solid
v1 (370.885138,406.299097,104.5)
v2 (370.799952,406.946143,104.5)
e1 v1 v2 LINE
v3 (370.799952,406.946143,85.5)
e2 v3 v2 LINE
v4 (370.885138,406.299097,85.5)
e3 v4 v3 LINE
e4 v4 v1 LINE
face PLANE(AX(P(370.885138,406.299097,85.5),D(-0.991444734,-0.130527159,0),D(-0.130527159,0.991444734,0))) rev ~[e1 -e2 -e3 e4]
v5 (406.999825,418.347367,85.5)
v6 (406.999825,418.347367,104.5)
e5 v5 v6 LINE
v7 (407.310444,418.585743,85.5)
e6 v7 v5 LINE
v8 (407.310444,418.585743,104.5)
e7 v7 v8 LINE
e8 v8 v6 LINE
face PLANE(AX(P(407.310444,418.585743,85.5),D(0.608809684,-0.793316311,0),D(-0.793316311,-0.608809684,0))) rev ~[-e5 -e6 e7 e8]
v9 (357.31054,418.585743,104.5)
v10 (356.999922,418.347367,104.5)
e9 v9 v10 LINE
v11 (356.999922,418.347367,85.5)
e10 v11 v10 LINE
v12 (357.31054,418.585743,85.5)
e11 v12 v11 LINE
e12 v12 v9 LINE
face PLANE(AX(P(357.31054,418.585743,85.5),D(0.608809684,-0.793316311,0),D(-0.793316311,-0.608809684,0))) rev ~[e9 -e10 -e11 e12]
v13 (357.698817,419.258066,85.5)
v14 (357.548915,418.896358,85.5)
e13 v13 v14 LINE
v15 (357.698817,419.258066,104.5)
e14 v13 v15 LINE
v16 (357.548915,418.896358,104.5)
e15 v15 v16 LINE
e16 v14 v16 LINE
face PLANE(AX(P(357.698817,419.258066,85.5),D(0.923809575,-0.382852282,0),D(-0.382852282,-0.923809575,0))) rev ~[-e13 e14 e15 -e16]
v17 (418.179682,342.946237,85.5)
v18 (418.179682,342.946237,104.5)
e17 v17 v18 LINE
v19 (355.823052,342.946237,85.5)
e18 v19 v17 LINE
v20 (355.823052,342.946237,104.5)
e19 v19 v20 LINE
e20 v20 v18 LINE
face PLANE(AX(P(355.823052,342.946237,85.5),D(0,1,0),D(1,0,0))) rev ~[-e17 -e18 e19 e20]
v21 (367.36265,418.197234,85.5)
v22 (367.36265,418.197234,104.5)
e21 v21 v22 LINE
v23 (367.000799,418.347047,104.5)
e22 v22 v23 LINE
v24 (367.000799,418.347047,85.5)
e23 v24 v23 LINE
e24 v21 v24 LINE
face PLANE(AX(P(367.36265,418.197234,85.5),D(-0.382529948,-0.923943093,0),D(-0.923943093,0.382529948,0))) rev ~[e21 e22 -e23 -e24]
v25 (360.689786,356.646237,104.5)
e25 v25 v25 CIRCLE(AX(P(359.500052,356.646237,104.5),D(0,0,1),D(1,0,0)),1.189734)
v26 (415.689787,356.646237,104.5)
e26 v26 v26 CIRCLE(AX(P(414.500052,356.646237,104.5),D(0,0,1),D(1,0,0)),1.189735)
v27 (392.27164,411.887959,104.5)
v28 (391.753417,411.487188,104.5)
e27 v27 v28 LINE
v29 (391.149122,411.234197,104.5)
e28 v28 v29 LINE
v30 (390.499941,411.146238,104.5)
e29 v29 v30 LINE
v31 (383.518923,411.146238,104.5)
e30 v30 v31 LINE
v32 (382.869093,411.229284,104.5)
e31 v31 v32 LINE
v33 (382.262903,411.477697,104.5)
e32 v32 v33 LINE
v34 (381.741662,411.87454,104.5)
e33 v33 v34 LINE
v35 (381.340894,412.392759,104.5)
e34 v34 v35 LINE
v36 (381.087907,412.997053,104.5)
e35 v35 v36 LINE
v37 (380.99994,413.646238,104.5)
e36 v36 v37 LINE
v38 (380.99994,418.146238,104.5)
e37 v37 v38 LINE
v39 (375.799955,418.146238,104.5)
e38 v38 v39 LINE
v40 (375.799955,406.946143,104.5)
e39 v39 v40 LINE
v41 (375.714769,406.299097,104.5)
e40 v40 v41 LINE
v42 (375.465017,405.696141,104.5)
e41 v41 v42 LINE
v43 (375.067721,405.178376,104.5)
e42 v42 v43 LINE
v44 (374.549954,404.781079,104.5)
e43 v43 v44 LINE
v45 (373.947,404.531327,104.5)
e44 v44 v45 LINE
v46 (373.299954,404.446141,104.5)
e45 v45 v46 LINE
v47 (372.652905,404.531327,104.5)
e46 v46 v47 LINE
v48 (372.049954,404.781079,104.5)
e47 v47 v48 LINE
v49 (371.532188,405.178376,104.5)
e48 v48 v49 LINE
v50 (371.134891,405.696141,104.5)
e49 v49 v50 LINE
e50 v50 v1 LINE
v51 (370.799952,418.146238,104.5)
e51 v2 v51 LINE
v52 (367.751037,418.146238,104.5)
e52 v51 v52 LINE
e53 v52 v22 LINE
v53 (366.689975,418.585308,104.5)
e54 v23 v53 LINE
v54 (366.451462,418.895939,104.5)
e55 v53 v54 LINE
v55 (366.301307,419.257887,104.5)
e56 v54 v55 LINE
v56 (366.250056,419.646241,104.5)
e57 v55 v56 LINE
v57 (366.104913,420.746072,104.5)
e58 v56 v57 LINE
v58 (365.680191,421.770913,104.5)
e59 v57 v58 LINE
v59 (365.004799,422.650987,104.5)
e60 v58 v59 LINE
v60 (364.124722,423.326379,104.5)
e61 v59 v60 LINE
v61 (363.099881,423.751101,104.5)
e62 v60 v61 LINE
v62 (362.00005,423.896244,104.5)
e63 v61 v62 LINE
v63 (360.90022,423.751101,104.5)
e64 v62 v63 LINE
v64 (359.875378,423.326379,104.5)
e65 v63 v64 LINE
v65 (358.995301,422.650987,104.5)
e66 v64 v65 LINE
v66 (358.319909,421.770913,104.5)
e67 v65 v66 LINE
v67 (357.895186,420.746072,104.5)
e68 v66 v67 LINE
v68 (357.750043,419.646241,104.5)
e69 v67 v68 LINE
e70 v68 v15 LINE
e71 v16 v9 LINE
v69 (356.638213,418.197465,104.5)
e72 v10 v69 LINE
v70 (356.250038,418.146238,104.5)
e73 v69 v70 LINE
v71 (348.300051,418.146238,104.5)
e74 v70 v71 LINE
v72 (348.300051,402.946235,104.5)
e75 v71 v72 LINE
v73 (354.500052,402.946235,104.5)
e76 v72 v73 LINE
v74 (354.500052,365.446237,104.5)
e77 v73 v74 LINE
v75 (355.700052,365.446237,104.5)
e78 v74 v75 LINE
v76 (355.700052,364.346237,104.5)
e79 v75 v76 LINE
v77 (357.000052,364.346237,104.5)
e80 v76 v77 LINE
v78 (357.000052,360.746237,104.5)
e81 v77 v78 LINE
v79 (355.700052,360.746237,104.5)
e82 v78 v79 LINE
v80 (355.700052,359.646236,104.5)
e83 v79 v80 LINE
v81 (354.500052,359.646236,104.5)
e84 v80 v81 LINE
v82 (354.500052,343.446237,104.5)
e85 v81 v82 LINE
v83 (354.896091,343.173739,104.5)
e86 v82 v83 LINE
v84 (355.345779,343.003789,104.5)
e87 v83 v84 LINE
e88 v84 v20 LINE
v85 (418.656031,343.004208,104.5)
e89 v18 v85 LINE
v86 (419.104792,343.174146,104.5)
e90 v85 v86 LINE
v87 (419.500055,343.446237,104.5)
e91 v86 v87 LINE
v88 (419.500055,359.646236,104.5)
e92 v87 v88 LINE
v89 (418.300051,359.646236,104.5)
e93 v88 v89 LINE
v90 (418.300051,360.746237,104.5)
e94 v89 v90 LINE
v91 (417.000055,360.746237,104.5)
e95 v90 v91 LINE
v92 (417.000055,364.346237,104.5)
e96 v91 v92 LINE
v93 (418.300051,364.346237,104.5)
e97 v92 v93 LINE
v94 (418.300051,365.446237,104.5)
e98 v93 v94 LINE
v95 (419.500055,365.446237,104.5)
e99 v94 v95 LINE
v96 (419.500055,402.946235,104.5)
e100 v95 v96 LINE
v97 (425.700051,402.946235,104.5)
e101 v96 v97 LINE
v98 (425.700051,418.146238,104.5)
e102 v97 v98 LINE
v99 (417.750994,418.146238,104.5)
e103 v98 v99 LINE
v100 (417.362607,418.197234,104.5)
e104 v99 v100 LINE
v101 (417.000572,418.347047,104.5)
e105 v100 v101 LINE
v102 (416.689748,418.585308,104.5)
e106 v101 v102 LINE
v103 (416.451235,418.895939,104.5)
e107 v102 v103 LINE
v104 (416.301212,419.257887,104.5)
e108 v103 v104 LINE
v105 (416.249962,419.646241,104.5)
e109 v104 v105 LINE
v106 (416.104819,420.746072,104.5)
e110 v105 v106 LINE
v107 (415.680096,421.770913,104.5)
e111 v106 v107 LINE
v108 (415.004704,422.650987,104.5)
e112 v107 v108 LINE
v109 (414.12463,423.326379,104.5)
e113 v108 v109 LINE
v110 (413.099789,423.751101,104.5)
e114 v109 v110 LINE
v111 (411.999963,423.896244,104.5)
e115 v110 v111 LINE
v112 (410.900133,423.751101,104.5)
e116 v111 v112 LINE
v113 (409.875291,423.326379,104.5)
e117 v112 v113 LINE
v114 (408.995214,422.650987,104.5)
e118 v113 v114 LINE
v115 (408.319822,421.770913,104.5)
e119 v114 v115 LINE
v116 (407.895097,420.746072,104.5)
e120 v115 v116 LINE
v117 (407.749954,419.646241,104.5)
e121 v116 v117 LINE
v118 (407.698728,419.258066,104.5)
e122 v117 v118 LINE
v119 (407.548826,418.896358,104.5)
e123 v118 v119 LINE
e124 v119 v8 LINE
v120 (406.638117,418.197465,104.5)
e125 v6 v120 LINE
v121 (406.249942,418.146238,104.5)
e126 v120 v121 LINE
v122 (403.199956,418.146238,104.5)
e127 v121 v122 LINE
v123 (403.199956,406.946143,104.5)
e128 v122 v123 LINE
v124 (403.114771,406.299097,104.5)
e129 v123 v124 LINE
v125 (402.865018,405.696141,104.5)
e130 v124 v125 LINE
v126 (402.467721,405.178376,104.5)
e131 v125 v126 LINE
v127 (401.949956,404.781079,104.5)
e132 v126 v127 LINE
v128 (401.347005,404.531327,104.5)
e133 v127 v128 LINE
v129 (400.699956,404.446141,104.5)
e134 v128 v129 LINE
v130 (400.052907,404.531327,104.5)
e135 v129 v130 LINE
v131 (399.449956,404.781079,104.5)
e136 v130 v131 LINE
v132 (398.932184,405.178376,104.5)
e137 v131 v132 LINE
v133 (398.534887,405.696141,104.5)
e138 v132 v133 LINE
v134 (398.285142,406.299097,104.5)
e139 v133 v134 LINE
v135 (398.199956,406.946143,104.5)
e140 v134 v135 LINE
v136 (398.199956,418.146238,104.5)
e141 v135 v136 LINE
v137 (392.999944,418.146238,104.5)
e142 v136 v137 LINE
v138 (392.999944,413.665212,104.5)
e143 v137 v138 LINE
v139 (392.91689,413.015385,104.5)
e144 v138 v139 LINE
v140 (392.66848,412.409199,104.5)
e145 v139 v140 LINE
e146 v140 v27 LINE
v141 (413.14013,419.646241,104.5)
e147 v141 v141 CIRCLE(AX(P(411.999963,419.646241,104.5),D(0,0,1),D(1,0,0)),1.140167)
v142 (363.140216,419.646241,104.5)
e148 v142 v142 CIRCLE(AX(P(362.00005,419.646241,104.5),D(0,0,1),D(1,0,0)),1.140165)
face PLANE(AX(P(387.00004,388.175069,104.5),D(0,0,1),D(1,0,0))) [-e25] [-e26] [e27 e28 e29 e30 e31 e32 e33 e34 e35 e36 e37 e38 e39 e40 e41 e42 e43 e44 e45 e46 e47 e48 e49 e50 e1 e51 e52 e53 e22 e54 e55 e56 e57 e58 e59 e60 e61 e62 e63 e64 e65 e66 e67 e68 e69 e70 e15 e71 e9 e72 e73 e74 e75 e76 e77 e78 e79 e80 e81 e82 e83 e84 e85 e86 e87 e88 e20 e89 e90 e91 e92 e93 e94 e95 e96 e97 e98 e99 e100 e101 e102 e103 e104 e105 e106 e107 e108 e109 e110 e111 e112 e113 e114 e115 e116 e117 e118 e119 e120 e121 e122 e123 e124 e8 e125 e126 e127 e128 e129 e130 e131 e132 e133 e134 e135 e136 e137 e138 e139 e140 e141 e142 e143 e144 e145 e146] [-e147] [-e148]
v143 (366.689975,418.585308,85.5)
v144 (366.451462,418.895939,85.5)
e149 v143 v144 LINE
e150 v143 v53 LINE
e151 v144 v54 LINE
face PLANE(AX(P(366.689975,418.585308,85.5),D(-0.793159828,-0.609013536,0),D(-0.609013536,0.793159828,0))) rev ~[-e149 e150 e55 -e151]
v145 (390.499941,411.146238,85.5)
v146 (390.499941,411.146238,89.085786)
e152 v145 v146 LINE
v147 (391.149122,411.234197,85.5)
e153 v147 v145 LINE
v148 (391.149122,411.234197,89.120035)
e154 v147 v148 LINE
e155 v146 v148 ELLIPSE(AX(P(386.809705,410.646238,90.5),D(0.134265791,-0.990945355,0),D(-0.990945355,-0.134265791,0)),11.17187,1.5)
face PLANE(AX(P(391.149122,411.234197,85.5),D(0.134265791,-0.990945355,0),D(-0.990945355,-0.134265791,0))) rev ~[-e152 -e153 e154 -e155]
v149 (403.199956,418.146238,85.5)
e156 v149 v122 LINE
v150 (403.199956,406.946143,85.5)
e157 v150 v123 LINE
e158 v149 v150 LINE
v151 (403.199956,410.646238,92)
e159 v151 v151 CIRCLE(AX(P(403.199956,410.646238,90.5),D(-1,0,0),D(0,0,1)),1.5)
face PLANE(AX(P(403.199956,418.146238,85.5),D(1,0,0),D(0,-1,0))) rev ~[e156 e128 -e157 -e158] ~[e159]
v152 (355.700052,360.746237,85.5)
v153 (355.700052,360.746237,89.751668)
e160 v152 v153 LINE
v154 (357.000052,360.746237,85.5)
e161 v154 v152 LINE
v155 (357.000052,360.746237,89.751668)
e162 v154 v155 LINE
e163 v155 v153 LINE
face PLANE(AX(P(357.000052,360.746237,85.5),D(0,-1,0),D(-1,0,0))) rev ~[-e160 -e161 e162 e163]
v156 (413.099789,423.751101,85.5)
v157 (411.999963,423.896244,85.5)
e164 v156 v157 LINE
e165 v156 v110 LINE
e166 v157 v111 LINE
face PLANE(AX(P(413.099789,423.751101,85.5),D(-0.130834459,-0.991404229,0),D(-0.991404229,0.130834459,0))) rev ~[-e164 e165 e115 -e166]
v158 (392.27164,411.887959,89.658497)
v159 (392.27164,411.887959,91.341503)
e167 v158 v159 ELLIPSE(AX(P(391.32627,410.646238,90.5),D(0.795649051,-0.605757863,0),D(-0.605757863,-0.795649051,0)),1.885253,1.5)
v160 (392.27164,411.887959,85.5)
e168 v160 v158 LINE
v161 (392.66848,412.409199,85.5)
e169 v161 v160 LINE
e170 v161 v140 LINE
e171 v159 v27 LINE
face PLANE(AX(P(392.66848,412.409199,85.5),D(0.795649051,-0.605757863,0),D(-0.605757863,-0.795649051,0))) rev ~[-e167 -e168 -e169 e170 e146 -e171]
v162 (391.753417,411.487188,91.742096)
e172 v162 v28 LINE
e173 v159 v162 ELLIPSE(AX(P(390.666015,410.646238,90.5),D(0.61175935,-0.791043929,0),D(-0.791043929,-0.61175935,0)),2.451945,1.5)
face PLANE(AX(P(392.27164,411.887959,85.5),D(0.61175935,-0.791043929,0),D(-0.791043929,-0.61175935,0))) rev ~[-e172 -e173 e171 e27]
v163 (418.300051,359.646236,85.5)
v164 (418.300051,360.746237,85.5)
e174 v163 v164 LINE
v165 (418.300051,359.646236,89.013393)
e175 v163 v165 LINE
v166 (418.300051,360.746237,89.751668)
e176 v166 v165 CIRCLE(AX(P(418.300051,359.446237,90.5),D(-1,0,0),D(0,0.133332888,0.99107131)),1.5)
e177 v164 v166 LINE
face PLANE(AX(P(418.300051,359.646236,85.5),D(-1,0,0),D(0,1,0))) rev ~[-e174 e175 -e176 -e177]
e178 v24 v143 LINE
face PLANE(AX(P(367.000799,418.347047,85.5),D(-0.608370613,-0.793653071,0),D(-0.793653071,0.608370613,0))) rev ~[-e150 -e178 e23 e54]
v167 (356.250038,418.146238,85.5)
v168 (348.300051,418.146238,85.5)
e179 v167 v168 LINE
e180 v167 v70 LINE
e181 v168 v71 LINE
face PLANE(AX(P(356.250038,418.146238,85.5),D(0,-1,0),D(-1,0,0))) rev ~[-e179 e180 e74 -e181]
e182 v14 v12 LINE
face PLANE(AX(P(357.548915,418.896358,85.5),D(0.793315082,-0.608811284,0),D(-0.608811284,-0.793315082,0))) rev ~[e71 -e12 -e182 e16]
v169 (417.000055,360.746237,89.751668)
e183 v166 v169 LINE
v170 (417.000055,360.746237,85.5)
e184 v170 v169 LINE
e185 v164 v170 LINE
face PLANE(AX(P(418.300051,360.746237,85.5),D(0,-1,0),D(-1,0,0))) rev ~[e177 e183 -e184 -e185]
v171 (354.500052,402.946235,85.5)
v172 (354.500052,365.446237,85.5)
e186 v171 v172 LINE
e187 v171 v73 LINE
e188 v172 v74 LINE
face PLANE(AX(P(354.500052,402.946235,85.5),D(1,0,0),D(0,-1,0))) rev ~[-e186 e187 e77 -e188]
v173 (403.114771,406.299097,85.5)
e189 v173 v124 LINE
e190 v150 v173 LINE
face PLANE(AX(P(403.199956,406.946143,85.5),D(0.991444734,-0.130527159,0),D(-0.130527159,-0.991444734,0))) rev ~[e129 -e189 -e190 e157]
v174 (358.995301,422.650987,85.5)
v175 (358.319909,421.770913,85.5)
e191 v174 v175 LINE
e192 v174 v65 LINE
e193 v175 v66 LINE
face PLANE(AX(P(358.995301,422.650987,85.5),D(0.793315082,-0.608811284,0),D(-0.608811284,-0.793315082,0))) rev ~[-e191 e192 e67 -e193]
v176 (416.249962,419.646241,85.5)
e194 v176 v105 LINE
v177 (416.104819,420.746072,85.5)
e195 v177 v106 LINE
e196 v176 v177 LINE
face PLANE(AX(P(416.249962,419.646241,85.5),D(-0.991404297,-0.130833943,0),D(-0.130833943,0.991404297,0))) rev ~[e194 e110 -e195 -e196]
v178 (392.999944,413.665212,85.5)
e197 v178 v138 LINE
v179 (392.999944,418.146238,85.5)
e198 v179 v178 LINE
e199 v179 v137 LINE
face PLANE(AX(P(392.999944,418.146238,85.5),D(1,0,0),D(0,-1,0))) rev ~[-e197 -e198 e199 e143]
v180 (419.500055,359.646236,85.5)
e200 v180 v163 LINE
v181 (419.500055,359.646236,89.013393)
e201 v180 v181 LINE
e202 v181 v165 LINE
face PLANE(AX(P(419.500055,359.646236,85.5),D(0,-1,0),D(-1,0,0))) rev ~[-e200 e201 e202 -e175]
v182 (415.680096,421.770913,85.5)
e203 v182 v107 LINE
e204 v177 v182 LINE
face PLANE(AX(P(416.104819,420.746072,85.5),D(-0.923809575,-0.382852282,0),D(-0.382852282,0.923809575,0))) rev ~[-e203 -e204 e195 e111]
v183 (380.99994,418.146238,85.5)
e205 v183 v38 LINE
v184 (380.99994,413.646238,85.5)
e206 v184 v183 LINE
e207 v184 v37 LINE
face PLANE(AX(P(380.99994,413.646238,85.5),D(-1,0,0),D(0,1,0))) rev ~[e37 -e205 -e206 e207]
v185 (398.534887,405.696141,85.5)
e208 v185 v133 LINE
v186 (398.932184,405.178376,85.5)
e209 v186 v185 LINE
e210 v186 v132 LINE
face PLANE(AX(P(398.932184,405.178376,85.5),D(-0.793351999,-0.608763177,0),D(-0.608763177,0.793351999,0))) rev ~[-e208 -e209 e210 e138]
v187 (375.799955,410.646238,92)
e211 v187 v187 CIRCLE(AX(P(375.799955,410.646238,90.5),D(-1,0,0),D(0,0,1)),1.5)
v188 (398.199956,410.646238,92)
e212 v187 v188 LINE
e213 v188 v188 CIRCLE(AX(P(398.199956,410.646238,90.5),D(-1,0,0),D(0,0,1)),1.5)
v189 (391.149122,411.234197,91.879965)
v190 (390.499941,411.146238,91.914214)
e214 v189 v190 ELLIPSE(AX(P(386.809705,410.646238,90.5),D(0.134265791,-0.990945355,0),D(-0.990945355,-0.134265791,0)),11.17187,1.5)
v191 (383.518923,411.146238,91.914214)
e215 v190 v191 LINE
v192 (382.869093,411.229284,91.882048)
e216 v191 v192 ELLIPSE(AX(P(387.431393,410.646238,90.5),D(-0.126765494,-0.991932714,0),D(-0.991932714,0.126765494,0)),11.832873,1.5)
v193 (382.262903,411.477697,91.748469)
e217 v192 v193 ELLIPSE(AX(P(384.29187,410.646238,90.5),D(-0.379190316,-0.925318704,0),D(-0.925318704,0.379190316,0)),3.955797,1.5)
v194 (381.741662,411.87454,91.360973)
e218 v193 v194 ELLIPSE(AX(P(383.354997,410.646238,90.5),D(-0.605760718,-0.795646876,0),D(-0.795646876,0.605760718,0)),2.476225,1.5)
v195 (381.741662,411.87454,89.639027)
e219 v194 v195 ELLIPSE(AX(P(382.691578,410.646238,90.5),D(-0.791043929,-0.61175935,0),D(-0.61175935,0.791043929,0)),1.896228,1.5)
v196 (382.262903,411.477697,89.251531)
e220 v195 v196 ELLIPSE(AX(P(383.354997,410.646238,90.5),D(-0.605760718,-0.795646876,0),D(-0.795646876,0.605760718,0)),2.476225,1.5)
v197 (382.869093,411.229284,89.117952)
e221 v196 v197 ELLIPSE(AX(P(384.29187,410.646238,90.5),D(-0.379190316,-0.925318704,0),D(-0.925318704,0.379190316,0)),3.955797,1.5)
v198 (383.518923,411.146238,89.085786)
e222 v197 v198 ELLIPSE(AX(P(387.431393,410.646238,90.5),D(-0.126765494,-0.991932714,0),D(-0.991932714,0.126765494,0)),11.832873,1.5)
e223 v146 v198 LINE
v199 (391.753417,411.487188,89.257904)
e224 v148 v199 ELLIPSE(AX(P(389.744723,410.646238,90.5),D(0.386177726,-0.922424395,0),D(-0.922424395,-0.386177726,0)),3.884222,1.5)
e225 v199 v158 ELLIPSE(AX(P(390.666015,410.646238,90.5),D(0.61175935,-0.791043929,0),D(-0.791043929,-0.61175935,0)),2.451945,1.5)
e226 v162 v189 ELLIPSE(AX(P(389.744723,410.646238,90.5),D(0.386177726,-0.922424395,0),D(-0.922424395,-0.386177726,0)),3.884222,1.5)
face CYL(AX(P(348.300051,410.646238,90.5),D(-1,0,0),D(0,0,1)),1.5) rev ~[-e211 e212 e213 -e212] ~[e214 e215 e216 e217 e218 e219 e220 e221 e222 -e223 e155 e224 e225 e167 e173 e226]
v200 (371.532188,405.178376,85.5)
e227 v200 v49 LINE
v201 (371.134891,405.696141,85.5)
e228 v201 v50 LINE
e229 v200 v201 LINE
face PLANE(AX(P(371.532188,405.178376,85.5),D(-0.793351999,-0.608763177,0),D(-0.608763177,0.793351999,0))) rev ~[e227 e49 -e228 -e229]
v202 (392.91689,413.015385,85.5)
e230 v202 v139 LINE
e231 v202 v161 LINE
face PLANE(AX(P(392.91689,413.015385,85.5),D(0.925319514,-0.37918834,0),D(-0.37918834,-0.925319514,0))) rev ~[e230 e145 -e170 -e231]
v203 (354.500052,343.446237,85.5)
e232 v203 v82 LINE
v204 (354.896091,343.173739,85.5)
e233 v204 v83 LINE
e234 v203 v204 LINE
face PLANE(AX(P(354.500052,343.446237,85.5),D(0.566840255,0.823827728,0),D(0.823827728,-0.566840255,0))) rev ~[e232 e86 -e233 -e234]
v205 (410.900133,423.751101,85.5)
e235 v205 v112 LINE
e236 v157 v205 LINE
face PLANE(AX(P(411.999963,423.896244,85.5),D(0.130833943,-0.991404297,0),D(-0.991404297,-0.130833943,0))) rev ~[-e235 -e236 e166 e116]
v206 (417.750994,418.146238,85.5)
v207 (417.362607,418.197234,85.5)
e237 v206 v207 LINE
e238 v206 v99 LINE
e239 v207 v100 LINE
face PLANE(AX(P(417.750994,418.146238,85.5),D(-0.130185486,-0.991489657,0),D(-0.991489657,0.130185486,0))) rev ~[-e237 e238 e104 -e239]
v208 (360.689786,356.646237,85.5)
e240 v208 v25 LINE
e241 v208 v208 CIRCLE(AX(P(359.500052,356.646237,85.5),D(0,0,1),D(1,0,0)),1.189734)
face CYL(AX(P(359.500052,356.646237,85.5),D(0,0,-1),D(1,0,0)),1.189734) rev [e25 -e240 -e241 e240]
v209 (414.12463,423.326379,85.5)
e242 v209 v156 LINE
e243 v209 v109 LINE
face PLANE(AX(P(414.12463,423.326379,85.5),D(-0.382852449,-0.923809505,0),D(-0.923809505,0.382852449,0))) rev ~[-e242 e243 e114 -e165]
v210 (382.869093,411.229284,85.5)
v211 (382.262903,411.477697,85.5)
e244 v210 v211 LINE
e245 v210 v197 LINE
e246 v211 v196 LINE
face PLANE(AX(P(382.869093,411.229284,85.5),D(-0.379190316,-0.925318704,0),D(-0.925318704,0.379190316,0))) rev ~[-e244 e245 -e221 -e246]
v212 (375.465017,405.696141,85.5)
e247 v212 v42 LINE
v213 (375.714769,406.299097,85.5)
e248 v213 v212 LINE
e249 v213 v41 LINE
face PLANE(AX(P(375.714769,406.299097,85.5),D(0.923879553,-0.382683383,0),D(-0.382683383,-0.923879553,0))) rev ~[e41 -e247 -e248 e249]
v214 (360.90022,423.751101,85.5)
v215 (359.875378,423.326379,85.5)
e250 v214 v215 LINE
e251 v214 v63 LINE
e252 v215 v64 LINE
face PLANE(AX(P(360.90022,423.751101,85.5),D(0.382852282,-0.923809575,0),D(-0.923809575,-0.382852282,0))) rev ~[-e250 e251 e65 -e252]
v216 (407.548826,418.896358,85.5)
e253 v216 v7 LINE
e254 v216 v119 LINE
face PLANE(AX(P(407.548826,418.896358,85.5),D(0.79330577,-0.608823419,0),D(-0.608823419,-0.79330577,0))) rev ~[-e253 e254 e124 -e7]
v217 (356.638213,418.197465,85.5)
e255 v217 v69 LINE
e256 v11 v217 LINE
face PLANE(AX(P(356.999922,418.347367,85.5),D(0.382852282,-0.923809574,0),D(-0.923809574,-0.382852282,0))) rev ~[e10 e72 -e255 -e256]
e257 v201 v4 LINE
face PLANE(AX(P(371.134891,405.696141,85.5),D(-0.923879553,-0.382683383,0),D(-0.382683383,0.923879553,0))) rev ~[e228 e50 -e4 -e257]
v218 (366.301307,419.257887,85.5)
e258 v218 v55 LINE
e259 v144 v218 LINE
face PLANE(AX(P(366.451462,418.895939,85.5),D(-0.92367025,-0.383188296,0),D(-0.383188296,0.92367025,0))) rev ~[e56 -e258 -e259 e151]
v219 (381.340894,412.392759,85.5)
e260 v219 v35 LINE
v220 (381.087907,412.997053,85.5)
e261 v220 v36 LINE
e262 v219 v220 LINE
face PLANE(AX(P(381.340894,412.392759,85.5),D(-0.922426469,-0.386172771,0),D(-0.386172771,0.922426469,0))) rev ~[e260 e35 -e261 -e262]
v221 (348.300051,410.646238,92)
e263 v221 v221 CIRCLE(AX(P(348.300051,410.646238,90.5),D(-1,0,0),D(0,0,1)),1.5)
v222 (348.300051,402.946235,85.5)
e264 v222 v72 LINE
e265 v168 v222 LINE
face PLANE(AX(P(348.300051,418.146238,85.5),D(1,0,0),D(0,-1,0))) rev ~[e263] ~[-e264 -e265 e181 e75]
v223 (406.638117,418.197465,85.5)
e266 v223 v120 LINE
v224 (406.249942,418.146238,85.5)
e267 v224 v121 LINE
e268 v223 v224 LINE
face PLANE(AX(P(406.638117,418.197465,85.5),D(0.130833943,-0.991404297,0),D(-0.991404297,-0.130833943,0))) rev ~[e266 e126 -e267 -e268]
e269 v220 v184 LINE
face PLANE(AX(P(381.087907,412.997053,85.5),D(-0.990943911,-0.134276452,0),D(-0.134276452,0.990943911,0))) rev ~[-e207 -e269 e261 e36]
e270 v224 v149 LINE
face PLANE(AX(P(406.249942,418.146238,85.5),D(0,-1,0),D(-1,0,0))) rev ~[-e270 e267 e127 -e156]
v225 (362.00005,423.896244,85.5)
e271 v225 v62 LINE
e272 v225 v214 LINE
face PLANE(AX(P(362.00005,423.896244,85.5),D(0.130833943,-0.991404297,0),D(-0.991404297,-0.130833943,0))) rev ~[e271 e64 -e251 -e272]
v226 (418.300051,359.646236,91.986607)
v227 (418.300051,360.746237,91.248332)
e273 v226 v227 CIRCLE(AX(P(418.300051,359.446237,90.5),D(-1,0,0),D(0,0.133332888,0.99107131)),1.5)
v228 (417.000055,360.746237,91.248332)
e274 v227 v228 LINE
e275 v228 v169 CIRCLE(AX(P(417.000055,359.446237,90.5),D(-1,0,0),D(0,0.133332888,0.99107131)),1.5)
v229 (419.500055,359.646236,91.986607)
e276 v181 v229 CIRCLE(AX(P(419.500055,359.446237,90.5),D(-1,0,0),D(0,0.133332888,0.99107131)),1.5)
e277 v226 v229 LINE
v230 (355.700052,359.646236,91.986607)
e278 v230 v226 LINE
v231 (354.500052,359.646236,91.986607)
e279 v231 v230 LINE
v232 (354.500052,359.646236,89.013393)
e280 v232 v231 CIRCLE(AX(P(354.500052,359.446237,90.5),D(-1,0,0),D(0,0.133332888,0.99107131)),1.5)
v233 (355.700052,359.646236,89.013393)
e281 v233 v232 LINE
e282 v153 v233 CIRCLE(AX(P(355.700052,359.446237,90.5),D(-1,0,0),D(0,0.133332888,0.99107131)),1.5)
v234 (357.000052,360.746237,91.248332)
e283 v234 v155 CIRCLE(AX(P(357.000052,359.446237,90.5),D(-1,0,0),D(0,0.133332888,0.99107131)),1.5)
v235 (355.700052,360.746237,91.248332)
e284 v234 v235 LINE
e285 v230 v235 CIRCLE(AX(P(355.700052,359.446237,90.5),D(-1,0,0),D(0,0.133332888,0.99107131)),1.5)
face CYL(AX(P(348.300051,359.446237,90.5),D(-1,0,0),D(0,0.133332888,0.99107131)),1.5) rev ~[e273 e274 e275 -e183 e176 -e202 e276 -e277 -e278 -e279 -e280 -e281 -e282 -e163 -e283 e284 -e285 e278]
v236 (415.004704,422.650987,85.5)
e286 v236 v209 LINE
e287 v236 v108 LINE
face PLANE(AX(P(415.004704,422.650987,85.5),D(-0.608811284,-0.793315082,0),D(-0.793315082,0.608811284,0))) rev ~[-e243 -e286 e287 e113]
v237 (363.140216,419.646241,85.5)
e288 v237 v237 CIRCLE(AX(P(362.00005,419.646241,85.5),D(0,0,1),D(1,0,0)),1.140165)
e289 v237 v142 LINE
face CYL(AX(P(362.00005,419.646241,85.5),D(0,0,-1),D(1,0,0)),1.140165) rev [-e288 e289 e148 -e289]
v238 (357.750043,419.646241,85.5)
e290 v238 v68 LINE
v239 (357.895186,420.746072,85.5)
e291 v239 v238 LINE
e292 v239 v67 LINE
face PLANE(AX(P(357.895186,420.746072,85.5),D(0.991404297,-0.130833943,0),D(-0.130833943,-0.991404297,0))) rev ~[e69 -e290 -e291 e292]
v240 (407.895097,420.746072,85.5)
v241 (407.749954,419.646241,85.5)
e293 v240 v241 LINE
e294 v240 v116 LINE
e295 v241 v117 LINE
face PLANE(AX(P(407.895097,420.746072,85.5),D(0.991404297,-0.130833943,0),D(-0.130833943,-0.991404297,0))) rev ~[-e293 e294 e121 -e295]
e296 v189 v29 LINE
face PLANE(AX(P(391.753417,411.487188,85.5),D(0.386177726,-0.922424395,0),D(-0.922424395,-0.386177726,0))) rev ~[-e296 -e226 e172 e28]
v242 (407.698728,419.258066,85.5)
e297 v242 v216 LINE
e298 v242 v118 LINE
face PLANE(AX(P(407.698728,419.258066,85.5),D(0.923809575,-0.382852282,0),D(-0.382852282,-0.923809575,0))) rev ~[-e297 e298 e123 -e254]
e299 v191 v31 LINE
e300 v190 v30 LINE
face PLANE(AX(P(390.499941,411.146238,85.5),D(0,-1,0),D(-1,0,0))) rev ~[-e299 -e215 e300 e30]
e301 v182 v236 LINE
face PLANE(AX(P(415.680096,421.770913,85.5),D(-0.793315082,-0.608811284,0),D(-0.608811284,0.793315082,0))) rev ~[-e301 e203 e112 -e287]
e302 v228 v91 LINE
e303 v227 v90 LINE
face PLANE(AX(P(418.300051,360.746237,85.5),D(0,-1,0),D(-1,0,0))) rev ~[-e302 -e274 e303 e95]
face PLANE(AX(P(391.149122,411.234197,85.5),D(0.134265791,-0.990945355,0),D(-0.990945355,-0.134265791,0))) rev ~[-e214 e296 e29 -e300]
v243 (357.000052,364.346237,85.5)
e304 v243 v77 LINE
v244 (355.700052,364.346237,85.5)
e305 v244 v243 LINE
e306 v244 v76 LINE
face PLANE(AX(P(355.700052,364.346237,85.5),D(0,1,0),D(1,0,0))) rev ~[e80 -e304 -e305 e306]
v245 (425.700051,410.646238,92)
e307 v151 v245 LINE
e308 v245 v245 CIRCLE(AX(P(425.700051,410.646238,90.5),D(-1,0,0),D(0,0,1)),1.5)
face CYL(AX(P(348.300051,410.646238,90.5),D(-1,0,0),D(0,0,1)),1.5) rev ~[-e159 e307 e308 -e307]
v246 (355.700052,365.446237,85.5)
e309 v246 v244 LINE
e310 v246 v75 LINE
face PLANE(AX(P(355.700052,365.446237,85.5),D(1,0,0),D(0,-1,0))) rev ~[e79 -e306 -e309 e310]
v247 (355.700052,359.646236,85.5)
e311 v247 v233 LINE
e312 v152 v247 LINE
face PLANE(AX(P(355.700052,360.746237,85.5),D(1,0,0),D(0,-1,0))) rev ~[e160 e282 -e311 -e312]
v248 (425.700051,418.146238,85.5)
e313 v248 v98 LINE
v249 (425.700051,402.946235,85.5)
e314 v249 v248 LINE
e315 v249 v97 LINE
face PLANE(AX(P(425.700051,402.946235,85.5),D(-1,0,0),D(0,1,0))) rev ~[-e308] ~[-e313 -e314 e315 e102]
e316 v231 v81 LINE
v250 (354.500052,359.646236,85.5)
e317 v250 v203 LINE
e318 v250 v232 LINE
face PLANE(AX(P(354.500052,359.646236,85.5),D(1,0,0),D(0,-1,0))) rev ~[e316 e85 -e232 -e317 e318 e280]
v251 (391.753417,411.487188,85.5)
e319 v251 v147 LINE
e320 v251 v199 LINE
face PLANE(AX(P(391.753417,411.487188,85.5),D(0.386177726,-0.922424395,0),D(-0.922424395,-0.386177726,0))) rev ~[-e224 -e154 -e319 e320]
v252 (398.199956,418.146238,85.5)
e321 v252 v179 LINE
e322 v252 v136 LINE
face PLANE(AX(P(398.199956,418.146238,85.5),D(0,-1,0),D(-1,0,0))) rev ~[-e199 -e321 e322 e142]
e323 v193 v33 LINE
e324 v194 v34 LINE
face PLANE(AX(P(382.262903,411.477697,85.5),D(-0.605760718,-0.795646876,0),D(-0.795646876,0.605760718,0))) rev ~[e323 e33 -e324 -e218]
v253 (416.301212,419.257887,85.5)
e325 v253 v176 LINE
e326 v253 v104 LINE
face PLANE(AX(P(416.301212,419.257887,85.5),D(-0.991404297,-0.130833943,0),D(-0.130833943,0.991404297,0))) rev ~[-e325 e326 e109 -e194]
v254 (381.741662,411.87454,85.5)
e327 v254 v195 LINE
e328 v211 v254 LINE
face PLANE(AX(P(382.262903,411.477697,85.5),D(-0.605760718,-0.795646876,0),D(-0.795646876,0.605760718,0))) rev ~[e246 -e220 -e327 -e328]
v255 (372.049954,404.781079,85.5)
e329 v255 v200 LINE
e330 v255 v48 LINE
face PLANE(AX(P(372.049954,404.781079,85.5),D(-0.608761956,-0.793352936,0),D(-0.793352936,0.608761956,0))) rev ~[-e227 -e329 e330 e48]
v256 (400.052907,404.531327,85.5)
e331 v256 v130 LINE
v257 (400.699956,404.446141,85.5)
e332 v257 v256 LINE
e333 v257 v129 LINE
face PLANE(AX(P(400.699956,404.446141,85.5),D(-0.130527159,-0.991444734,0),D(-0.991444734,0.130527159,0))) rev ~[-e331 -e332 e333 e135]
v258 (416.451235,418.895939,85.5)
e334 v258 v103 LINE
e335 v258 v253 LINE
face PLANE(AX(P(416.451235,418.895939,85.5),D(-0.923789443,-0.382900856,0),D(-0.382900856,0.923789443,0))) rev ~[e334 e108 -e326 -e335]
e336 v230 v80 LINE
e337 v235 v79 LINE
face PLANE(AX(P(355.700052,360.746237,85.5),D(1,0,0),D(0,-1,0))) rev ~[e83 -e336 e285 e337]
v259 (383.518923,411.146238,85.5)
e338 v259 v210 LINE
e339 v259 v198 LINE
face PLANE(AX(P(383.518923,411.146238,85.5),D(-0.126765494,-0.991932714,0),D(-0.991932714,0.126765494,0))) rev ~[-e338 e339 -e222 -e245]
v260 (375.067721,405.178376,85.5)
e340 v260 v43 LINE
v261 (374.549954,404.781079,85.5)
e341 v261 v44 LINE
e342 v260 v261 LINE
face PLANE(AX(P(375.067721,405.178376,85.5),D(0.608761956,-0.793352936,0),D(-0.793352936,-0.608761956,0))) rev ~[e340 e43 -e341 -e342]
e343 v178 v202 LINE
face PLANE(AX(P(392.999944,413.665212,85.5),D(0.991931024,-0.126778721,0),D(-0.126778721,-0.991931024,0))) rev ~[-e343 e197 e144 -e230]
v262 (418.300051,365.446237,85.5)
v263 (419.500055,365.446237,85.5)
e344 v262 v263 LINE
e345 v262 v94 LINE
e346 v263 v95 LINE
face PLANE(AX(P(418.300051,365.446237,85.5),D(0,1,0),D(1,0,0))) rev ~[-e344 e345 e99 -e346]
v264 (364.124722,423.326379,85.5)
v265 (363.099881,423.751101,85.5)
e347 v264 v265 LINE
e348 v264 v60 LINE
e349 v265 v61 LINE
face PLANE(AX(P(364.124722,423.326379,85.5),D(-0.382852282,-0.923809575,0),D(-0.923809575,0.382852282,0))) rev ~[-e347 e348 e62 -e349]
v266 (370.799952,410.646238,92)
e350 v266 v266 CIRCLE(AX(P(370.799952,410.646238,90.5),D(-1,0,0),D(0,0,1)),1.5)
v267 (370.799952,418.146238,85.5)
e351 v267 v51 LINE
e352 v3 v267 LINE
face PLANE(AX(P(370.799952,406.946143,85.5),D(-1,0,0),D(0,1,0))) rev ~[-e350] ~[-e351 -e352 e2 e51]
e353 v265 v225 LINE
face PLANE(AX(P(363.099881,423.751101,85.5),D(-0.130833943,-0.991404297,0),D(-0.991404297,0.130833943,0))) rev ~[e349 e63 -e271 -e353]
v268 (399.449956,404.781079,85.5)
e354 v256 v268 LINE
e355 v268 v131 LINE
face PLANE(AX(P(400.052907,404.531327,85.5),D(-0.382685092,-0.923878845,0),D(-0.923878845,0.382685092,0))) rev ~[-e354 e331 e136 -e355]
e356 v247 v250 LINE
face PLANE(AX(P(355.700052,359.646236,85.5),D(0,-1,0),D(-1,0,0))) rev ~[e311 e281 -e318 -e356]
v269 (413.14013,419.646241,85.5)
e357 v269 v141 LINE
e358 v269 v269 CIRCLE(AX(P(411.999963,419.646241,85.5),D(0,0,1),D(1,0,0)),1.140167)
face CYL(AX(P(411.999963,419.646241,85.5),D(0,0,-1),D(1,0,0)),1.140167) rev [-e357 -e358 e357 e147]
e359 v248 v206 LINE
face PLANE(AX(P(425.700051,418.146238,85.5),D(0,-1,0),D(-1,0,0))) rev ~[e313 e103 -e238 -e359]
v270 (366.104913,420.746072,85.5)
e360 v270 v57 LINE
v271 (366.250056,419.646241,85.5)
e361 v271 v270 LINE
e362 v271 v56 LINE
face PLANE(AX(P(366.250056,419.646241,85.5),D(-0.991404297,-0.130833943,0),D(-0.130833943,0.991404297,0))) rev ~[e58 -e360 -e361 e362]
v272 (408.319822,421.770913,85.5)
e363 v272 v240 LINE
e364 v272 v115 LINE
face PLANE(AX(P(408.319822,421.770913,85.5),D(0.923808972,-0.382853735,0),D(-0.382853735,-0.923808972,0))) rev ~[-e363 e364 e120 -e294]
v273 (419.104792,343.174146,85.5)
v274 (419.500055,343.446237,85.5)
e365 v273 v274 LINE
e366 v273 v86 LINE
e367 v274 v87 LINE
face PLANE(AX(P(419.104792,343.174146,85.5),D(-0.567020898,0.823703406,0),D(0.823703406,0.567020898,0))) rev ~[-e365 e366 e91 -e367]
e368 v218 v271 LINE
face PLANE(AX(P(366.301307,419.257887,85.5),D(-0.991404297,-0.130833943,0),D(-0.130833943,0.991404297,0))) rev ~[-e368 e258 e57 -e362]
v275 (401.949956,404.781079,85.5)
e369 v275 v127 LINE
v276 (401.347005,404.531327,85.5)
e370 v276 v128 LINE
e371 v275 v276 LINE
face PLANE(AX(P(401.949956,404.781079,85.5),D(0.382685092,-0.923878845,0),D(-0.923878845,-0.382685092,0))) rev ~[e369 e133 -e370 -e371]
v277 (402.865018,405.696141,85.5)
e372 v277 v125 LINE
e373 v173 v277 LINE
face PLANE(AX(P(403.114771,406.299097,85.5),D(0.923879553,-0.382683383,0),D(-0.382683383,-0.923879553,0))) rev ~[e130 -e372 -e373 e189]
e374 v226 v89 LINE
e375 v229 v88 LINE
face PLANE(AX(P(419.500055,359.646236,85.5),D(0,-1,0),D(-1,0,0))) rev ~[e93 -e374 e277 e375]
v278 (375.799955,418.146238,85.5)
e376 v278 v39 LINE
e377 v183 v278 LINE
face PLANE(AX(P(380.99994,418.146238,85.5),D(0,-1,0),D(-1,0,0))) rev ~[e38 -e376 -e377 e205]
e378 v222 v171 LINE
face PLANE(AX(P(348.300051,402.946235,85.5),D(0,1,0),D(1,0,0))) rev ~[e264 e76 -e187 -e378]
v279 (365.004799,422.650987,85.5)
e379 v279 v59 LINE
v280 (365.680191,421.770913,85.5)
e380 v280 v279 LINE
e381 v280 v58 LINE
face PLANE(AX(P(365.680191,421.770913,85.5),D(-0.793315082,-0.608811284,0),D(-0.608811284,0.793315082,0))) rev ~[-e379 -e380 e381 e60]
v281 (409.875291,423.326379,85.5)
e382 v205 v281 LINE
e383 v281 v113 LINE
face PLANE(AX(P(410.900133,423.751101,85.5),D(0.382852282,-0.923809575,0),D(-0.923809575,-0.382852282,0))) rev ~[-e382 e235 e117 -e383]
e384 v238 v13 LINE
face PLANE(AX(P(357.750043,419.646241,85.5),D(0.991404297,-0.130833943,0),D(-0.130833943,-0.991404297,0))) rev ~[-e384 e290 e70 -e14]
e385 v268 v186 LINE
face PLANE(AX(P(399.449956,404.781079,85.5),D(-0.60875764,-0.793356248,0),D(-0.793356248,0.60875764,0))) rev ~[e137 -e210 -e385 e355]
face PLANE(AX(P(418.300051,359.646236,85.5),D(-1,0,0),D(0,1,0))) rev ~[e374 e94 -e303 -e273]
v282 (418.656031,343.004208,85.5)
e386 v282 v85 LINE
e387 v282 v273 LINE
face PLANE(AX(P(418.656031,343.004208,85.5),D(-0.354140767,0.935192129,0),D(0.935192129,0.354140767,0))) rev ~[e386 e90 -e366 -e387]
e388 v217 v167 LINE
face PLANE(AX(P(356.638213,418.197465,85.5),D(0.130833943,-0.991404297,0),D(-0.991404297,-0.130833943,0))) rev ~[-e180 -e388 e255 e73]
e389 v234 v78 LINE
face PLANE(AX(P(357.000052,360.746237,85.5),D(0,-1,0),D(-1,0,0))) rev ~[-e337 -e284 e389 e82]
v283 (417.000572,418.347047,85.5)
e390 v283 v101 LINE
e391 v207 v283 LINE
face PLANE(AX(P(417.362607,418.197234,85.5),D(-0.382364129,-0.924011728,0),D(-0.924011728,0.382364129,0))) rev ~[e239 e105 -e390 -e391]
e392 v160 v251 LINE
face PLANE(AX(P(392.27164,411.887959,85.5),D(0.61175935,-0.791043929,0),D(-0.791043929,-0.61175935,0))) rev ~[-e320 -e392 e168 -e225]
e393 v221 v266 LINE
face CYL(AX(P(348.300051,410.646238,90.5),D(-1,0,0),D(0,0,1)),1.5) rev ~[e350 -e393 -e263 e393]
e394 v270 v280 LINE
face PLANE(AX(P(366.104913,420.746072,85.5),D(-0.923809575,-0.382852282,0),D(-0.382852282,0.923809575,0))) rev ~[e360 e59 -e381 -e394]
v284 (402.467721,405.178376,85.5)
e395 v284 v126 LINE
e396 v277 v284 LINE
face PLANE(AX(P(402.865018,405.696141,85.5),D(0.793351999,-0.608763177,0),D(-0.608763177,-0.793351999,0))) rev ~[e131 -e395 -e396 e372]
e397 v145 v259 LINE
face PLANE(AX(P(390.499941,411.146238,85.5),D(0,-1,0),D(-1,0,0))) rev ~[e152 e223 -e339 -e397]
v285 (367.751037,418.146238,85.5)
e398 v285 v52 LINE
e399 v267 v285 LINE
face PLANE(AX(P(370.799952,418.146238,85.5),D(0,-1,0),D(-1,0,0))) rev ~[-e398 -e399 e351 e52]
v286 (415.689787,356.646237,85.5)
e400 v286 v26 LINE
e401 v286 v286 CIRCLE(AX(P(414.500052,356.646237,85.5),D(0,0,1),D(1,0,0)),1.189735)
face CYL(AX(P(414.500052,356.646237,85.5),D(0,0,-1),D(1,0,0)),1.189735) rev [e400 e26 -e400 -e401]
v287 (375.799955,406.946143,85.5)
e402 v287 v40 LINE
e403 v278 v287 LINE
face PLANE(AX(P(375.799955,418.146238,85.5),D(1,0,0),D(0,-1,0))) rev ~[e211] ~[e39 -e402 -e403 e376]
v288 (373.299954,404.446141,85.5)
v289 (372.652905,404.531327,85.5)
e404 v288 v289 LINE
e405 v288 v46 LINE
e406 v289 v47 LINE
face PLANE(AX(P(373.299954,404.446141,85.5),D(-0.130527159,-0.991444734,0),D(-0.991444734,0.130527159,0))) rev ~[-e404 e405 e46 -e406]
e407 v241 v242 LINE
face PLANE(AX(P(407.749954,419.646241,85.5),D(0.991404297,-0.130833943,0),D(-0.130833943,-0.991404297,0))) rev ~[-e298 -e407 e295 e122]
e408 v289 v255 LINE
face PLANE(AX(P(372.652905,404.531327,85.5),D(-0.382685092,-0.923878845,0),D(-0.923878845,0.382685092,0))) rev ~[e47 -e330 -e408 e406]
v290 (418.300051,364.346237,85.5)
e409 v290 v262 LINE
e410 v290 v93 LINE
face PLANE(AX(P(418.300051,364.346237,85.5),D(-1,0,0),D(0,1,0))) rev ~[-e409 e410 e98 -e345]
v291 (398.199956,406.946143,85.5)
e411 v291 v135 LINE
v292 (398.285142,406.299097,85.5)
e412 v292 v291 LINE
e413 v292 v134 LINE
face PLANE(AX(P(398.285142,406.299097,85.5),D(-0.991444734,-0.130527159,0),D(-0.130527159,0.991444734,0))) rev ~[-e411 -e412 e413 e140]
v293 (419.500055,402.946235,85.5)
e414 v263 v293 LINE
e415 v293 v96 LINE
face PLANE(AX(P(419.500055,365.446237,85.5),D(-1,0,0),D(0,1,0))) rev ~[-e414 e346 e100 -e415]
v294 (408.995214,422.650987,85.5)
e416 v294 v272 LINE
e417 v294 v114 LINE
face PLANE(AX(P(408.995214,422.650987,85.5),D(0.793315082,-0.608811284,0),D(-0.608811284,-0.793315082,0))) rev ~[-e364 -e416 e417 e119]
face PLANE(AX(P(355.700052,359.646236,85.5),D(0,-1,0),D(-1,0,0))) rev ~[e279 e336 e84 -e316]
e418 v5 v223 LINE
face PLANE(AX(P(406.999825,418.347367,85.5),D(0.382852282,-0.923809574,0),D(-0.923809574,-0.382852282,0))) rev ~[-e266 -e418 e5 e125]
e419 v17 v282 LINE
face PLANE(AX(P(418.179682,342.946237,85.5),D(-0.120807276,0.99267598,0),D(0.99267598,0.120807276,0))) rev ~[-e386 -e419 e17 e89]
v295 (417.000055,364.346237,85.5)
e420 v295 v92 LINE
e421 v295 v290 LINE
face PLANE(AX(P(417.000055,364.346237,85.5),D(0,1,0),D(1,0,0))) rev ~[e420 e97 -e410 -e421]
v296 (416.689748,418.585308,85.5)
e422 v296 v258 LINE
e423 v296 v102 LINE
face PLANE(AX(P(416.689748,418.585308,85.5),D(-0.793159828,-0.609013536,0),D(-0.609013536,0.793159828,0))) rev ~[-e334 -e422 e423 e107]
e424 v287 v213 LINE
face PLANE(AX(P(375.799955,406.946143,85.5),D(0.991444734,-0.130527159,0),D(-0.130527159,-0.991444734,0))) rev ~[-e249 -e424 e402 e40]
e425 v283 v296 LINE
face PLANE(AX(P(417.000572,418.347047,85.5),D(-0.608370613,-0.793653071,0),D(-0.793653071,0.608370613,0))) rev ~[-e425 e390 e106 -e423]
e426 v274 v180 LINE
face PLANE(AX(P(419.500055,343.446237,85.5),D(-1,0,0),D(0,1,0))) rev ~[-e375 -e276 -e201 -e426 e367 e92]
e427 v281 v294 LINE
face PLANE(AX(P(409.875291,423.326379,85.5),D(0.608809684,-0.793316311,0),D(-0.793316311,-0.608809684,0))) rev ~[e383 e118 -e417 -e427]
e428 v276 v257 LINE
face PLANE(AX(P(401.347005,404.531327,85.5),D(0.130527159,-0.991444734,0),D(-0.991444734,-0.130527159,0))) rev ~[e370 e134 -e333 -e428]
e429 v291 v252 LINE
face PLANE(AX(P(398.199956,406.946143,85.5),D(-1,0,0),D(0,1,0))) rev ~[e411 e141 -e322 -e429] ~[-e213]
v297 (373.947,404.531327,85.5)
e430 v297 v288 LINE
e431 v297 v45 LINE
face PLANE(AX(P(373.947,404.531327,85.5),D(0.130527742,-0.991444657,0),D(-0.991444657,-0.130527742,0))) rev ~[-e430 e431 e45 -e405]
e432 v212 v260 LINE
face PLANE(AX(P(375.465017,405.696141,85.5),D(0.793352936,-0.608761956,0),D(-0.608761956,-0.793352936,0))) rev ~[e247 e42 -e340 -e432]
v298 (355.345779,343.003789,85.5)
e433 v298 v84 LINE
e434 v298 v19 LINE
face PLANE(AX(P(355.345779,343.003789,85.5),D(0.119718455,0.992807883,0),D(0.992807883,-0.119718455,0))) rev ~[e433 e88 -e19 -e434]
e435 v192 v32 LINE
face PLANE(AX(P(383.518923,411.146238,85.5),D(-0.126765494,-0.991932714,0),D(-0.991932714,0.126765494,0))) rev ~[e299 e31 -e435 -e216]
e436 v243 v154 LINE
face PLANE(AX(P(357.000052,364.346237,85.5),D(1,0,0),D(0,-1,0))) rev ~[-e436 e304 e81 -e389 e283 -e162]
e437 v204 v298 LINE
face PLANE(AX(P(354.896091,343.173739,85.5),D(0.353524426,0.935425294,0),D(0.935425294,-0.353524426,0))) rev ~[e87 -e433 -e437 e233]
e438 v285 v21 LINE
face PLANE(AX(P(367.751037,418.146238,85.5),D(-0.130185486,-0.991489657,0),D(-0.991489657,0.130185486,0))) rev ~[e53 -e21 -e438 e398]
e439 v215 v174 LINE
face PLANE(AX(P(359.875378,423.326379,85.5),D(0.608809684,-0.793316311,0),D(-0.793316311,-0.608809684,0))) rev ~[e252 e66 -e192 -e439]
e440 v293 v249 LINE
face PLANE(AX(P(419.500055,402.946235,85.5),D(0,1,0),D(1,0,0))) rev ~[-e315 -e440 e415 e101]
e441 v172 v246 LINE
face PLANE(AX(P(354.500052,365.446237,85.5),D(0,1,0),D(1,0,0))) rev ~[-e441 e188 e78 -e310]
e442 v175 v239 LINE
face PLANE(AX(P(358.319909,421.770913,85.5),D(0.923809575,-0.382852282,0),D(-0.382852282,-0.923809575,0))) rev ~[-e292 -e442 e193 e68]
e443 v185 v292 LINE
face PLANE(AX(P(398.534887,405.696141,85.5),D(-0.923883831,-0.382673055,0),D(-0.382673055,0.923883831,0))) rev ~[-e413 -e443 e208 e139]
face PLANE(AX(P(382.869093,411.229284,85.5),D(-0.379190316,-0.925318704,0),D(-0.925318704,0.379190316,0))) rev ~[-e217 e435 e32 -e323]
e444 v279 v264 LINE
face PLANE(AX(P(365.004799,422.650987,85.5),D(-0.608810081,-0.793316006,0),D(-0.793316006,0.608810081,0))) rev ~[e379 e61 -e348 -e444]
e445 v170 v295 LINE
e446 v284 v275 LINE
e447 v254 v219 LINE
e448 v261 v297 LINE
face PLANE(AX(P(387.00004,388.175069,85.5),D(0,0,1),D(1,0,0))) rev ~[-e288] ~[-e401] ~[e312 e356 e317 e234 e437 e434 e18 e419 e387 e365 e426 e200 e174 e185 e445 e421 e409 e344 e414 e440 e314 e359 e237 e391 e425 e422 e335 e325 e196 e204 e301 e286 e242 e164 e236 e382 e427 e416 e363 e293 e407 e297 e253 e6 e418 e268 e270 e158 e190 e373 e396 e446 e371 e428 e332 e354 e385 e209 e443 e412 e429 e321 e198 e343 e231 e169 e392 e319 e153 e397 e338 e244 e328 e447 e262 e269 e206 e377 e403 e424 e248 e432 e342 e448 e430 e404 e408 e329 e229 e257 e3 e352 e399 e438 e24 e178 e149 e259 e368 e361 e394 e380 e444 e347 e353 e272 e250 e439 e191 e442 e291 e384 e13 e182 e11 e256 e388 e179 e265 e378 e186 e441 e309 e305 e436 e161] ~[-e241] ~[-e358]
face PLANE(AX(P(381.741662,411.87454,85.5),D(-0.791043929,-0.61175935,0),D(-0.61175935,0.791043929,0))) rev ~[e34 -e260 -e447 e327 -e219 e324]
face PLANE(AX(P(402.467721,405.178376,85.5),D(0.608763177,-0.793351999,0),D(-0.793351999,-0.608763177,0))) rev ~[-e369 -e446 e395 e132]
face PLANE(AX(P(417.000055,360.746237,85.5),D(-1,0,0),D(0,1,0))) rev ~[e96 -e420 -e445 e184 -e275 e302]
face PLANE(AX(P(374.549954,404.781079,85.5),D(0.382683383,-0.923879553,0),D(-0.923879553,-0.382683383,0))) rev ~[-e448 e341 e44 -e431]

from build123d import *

# Parameters (mm, degrees)
CROQUIS3_R              = 11.401652729
CROQUIS3_R_2            = 11.401667337
CROQUIS3_R_3            = 11.897340247
CROQUIS3_R_4            = 11.897352739
SALIENTE_EXTRUIR3_DEPTH = 190
ESCALA1_SCALE           = 0.1
CORTAR_EXTRUIR1_REACH   = 445.395
CROQUIS4_R              = 1.5


with BuildPart() as part:
    # Croquis3 → Saliente-Extruir3 (new body)
    with BuildSketch(Plane.XY):
        Polygon((62.000007629, 600), (62.000007629, 225.000019073), (74.00001049, 225.000019073), (74.00001049, 214.000015259), (87.000007629, 214.000015259), (87.000007629, 178.000011444), (74.00001049, 178.000011444), (74.00001049, 167.000007629), (62.000007629, 167.000007629), (62.000007629, 5.000014305), (65.960402489, 2.275037766), (70.457281385, 0.575536435), (75.230016146, 1.277e-05), (698.796314631, 1.277e-05), (703.5598034, 0.579722678), (708.047413263, 2.279101392), (712.000045776, 5.000014305), (712.000045776, 167.000007629), (700, 167.000007629), (700, 178.000011444), (687.000045776, 178.000011444), (687.000045776, 214.000015259), (700, 214.000015259), (700, 225.000019073), (712.000045776, 225.000019073), (712.000045776, 600), (774.000005259, 600), (774.000005259, 752.00002538), (694.509434327, 752.00002538), (690.625557849, 752.509989697), (687.005212426, 754.008120277), (683.896969683, 756.390727503), (681.511844529, 759.497038521), (680.011611015, 763.116513016), (679.499106553, 767.000055121), (678.047678684, 777.998361779), (673.800452258, 788.246775122), (667.046530749, 797.047511795), (658.245794076, 803.801433304), (647.997385964, 808.04865973), (636.999123424, 809.500087598), (626.000816766, 808.04865973), (615.752403424, 803.801433304), (606.95162999, 797.047511795), (600.197708482, 788.246775122), (595.950463171, 777.998361779), (594.499035302, 767.000055121), (593.986767843, 763.118308924), (592.487747317, 759.501223225), (590.103931003, 756.3950759), (586.997742405, 754.011313366), (583.380656707, 752.512292839), (579.49891051, 752.00002538), (548.999055228, 752.00002538), (548.999055228, 639.999074709), (548.147197279, 633.528619953), (545.649669298, 627.49905312), (541.676700243, 622.321402668), (536.499049791, 618.348433613), (530.469542427, 615.850917196), (523.99905113, 614.999054437), (517.528559834, 615.850917196), (511.499052469, 618.348433613), (506.321327187, 622.321402668), (502.348358132, 627.49905312), (499.850909117, 633.528619953), (498.999051168, 639.999074709), (498.999051168, 752.00002538), (446.998930409, 752.00002538), (446.998930409, 707.189762429), (446.168386872, 700.691496039), (443.684287831, 694.629639501), (439.715890971, 689.4172413), (434.533657196, 685.409524601), (428.490716264, 682.879616244), (421.998901713, 682.000023228), (352.188721049, 682.000023228), (345.690420663, 682.830483045), (339.628518676, 685.314615834), (334.416116333, 689.283045399), (330.408433532, 694.465235341), (327.878564453, 700.508173573), (326.998895263, 707.00002538), (326.998895263, 752.00002538), (274.999042406, 752.00002538), (274.999042406, 639.999074709), (274.147184457, 633.528619953), (271.649656477, 627.49905312), (267.676700082, 622.321402668), (262.499033131, 618.348433613), (256.469494216, 615.850917196), (249.999032319, 614.999054437), (243.528541023, 615.850917196), (237.499033658, 618.348433613), (232.321366707, 622.321402668), (228.348397652, 627.49905312), (225.850869671, 633.528619953), (224.999011722, 639.999074709), (224.999011722, 752.00002538), (194.509863476, 752.00002538), (190.625986998, 752.509989697), (187.007479722, 754.008120277), (183.899236979, 756.390727503), (181.514111826, 759.497038521), (180.012558361, 763.116513016), (179.500053899, 767.000055121), (178.04862603, 777.998361779), (173.801399604, 788.246775122), (167.047478096, 797.047511795), (158.246713776, 803.801433304), (147.998300434, 808.04865973), (136.999993776, 809.500087598), (126.001687117, 808.04865973), (115.753273775, 803.801433304), (106.952500342, 797.047511795), (100.198578833, 788.246775122), (95.951352407, 777.998361779), (94.499924539, 767.000055121), (93.987657079, 763.118308924), (92.488636553, 759.501223225), (90.104895736, 756.3950759), (86.998707138, 754.011313366), (83.381621439, 752.512292839), (79.499875242, 752.00002538), (0, 752.00002538), (0, 600), align=None)
        with Locations((136.999993776, 767.000055121)):
            Circle(CROQUIS3_R, mode=Mode.SUBTRACT)
        with Locations((636.999123424, 767.000055121)):
            Circle(CROQUIS3_R_2, mode=Mode.SUBTRACT)
        with Locations((112.000007629, 137.000017166)):
            Circle(CROQUIS3_R_3, mode=Mode.SUBTRACT)
        with Locations((662.000007629, 137.000017166)):
            Circle(CROQUIS3_R_4, mode=Mode.SUBTRACT)
    extrude(amount=SALIENTE_EXTRUIR3_DEPTH)


with BuildPart() as part_1:
    # Escala1: scaled about (387.000056508, 381.051372624, 95)
    add(part.part.scale(ESCALA1_SCALE).moved(Location((348.300050857, 342.946235362, 85.5))))

    # Cortar-Extruir1: up to this face of the body (flat: up to its plane)
    cortar_extruir1_end = Plane(part_1.part.faces().sort_by_distance((425.700051383, 410.546236631, 95))[0])
    # Croquis4 → Cortar-Extruir1 (cut, up to the picked face)
    with BuildSketch(Plane.ZY.offset(-348.300050857), mode=Mode.PRIVATE) as cortar_extruir1_sk1:
        with Locations((90.5, 410.646237899)):
            Circle(CROQUIS4_R)
    cortar_extruir1_tool1 = split(extrude(cortar_extruir1_sk1.sketch, amount=-CORTAR_EXTRUIR1_REACH, mode=Mode.PRIVATE), bisect_by=cortar_extruir1_end, keep=Keep.BOTH, mode=Mode.PRIVATE)
    # Croquis4 → Cortar-Extruir1 (cut, up to the picked face)
    with BuildSketch(Plane.ZY.offset(-348.300050857), mode=Mode.PRIVATE) as cortar_extruir1_sk2:
        with Locations(Location((90.5, 359.446236792, 0), (0, 0, 7.662229932))):
            Circle(CROQUIS4_R)
    cortar_extruir1_tool2 = split(extrude(cortar_extruir1_sk2.sketch, amount=-CORTAR_EXTRUIR1_REACH, mode=Mode.PRIVATE), bisect_by=cortar_extruir1_end, keep=Keep.BOTH, mode=Mode.PRIVATE)
    add(cortar_extruir1_tool1.solids().sort_by(Axis((348.300051, 410.646238, 90.5), (1, 0, 0)))[0], mode=Mode.SUBTRACT)
    add(cortar_extruir1_tool2.solids().sort_by(Axis((348.300051, 359.446237, 90.5), (1, 0, 0)))[0], mode=Mode.SUBTRACT)


solid = part_1.part
